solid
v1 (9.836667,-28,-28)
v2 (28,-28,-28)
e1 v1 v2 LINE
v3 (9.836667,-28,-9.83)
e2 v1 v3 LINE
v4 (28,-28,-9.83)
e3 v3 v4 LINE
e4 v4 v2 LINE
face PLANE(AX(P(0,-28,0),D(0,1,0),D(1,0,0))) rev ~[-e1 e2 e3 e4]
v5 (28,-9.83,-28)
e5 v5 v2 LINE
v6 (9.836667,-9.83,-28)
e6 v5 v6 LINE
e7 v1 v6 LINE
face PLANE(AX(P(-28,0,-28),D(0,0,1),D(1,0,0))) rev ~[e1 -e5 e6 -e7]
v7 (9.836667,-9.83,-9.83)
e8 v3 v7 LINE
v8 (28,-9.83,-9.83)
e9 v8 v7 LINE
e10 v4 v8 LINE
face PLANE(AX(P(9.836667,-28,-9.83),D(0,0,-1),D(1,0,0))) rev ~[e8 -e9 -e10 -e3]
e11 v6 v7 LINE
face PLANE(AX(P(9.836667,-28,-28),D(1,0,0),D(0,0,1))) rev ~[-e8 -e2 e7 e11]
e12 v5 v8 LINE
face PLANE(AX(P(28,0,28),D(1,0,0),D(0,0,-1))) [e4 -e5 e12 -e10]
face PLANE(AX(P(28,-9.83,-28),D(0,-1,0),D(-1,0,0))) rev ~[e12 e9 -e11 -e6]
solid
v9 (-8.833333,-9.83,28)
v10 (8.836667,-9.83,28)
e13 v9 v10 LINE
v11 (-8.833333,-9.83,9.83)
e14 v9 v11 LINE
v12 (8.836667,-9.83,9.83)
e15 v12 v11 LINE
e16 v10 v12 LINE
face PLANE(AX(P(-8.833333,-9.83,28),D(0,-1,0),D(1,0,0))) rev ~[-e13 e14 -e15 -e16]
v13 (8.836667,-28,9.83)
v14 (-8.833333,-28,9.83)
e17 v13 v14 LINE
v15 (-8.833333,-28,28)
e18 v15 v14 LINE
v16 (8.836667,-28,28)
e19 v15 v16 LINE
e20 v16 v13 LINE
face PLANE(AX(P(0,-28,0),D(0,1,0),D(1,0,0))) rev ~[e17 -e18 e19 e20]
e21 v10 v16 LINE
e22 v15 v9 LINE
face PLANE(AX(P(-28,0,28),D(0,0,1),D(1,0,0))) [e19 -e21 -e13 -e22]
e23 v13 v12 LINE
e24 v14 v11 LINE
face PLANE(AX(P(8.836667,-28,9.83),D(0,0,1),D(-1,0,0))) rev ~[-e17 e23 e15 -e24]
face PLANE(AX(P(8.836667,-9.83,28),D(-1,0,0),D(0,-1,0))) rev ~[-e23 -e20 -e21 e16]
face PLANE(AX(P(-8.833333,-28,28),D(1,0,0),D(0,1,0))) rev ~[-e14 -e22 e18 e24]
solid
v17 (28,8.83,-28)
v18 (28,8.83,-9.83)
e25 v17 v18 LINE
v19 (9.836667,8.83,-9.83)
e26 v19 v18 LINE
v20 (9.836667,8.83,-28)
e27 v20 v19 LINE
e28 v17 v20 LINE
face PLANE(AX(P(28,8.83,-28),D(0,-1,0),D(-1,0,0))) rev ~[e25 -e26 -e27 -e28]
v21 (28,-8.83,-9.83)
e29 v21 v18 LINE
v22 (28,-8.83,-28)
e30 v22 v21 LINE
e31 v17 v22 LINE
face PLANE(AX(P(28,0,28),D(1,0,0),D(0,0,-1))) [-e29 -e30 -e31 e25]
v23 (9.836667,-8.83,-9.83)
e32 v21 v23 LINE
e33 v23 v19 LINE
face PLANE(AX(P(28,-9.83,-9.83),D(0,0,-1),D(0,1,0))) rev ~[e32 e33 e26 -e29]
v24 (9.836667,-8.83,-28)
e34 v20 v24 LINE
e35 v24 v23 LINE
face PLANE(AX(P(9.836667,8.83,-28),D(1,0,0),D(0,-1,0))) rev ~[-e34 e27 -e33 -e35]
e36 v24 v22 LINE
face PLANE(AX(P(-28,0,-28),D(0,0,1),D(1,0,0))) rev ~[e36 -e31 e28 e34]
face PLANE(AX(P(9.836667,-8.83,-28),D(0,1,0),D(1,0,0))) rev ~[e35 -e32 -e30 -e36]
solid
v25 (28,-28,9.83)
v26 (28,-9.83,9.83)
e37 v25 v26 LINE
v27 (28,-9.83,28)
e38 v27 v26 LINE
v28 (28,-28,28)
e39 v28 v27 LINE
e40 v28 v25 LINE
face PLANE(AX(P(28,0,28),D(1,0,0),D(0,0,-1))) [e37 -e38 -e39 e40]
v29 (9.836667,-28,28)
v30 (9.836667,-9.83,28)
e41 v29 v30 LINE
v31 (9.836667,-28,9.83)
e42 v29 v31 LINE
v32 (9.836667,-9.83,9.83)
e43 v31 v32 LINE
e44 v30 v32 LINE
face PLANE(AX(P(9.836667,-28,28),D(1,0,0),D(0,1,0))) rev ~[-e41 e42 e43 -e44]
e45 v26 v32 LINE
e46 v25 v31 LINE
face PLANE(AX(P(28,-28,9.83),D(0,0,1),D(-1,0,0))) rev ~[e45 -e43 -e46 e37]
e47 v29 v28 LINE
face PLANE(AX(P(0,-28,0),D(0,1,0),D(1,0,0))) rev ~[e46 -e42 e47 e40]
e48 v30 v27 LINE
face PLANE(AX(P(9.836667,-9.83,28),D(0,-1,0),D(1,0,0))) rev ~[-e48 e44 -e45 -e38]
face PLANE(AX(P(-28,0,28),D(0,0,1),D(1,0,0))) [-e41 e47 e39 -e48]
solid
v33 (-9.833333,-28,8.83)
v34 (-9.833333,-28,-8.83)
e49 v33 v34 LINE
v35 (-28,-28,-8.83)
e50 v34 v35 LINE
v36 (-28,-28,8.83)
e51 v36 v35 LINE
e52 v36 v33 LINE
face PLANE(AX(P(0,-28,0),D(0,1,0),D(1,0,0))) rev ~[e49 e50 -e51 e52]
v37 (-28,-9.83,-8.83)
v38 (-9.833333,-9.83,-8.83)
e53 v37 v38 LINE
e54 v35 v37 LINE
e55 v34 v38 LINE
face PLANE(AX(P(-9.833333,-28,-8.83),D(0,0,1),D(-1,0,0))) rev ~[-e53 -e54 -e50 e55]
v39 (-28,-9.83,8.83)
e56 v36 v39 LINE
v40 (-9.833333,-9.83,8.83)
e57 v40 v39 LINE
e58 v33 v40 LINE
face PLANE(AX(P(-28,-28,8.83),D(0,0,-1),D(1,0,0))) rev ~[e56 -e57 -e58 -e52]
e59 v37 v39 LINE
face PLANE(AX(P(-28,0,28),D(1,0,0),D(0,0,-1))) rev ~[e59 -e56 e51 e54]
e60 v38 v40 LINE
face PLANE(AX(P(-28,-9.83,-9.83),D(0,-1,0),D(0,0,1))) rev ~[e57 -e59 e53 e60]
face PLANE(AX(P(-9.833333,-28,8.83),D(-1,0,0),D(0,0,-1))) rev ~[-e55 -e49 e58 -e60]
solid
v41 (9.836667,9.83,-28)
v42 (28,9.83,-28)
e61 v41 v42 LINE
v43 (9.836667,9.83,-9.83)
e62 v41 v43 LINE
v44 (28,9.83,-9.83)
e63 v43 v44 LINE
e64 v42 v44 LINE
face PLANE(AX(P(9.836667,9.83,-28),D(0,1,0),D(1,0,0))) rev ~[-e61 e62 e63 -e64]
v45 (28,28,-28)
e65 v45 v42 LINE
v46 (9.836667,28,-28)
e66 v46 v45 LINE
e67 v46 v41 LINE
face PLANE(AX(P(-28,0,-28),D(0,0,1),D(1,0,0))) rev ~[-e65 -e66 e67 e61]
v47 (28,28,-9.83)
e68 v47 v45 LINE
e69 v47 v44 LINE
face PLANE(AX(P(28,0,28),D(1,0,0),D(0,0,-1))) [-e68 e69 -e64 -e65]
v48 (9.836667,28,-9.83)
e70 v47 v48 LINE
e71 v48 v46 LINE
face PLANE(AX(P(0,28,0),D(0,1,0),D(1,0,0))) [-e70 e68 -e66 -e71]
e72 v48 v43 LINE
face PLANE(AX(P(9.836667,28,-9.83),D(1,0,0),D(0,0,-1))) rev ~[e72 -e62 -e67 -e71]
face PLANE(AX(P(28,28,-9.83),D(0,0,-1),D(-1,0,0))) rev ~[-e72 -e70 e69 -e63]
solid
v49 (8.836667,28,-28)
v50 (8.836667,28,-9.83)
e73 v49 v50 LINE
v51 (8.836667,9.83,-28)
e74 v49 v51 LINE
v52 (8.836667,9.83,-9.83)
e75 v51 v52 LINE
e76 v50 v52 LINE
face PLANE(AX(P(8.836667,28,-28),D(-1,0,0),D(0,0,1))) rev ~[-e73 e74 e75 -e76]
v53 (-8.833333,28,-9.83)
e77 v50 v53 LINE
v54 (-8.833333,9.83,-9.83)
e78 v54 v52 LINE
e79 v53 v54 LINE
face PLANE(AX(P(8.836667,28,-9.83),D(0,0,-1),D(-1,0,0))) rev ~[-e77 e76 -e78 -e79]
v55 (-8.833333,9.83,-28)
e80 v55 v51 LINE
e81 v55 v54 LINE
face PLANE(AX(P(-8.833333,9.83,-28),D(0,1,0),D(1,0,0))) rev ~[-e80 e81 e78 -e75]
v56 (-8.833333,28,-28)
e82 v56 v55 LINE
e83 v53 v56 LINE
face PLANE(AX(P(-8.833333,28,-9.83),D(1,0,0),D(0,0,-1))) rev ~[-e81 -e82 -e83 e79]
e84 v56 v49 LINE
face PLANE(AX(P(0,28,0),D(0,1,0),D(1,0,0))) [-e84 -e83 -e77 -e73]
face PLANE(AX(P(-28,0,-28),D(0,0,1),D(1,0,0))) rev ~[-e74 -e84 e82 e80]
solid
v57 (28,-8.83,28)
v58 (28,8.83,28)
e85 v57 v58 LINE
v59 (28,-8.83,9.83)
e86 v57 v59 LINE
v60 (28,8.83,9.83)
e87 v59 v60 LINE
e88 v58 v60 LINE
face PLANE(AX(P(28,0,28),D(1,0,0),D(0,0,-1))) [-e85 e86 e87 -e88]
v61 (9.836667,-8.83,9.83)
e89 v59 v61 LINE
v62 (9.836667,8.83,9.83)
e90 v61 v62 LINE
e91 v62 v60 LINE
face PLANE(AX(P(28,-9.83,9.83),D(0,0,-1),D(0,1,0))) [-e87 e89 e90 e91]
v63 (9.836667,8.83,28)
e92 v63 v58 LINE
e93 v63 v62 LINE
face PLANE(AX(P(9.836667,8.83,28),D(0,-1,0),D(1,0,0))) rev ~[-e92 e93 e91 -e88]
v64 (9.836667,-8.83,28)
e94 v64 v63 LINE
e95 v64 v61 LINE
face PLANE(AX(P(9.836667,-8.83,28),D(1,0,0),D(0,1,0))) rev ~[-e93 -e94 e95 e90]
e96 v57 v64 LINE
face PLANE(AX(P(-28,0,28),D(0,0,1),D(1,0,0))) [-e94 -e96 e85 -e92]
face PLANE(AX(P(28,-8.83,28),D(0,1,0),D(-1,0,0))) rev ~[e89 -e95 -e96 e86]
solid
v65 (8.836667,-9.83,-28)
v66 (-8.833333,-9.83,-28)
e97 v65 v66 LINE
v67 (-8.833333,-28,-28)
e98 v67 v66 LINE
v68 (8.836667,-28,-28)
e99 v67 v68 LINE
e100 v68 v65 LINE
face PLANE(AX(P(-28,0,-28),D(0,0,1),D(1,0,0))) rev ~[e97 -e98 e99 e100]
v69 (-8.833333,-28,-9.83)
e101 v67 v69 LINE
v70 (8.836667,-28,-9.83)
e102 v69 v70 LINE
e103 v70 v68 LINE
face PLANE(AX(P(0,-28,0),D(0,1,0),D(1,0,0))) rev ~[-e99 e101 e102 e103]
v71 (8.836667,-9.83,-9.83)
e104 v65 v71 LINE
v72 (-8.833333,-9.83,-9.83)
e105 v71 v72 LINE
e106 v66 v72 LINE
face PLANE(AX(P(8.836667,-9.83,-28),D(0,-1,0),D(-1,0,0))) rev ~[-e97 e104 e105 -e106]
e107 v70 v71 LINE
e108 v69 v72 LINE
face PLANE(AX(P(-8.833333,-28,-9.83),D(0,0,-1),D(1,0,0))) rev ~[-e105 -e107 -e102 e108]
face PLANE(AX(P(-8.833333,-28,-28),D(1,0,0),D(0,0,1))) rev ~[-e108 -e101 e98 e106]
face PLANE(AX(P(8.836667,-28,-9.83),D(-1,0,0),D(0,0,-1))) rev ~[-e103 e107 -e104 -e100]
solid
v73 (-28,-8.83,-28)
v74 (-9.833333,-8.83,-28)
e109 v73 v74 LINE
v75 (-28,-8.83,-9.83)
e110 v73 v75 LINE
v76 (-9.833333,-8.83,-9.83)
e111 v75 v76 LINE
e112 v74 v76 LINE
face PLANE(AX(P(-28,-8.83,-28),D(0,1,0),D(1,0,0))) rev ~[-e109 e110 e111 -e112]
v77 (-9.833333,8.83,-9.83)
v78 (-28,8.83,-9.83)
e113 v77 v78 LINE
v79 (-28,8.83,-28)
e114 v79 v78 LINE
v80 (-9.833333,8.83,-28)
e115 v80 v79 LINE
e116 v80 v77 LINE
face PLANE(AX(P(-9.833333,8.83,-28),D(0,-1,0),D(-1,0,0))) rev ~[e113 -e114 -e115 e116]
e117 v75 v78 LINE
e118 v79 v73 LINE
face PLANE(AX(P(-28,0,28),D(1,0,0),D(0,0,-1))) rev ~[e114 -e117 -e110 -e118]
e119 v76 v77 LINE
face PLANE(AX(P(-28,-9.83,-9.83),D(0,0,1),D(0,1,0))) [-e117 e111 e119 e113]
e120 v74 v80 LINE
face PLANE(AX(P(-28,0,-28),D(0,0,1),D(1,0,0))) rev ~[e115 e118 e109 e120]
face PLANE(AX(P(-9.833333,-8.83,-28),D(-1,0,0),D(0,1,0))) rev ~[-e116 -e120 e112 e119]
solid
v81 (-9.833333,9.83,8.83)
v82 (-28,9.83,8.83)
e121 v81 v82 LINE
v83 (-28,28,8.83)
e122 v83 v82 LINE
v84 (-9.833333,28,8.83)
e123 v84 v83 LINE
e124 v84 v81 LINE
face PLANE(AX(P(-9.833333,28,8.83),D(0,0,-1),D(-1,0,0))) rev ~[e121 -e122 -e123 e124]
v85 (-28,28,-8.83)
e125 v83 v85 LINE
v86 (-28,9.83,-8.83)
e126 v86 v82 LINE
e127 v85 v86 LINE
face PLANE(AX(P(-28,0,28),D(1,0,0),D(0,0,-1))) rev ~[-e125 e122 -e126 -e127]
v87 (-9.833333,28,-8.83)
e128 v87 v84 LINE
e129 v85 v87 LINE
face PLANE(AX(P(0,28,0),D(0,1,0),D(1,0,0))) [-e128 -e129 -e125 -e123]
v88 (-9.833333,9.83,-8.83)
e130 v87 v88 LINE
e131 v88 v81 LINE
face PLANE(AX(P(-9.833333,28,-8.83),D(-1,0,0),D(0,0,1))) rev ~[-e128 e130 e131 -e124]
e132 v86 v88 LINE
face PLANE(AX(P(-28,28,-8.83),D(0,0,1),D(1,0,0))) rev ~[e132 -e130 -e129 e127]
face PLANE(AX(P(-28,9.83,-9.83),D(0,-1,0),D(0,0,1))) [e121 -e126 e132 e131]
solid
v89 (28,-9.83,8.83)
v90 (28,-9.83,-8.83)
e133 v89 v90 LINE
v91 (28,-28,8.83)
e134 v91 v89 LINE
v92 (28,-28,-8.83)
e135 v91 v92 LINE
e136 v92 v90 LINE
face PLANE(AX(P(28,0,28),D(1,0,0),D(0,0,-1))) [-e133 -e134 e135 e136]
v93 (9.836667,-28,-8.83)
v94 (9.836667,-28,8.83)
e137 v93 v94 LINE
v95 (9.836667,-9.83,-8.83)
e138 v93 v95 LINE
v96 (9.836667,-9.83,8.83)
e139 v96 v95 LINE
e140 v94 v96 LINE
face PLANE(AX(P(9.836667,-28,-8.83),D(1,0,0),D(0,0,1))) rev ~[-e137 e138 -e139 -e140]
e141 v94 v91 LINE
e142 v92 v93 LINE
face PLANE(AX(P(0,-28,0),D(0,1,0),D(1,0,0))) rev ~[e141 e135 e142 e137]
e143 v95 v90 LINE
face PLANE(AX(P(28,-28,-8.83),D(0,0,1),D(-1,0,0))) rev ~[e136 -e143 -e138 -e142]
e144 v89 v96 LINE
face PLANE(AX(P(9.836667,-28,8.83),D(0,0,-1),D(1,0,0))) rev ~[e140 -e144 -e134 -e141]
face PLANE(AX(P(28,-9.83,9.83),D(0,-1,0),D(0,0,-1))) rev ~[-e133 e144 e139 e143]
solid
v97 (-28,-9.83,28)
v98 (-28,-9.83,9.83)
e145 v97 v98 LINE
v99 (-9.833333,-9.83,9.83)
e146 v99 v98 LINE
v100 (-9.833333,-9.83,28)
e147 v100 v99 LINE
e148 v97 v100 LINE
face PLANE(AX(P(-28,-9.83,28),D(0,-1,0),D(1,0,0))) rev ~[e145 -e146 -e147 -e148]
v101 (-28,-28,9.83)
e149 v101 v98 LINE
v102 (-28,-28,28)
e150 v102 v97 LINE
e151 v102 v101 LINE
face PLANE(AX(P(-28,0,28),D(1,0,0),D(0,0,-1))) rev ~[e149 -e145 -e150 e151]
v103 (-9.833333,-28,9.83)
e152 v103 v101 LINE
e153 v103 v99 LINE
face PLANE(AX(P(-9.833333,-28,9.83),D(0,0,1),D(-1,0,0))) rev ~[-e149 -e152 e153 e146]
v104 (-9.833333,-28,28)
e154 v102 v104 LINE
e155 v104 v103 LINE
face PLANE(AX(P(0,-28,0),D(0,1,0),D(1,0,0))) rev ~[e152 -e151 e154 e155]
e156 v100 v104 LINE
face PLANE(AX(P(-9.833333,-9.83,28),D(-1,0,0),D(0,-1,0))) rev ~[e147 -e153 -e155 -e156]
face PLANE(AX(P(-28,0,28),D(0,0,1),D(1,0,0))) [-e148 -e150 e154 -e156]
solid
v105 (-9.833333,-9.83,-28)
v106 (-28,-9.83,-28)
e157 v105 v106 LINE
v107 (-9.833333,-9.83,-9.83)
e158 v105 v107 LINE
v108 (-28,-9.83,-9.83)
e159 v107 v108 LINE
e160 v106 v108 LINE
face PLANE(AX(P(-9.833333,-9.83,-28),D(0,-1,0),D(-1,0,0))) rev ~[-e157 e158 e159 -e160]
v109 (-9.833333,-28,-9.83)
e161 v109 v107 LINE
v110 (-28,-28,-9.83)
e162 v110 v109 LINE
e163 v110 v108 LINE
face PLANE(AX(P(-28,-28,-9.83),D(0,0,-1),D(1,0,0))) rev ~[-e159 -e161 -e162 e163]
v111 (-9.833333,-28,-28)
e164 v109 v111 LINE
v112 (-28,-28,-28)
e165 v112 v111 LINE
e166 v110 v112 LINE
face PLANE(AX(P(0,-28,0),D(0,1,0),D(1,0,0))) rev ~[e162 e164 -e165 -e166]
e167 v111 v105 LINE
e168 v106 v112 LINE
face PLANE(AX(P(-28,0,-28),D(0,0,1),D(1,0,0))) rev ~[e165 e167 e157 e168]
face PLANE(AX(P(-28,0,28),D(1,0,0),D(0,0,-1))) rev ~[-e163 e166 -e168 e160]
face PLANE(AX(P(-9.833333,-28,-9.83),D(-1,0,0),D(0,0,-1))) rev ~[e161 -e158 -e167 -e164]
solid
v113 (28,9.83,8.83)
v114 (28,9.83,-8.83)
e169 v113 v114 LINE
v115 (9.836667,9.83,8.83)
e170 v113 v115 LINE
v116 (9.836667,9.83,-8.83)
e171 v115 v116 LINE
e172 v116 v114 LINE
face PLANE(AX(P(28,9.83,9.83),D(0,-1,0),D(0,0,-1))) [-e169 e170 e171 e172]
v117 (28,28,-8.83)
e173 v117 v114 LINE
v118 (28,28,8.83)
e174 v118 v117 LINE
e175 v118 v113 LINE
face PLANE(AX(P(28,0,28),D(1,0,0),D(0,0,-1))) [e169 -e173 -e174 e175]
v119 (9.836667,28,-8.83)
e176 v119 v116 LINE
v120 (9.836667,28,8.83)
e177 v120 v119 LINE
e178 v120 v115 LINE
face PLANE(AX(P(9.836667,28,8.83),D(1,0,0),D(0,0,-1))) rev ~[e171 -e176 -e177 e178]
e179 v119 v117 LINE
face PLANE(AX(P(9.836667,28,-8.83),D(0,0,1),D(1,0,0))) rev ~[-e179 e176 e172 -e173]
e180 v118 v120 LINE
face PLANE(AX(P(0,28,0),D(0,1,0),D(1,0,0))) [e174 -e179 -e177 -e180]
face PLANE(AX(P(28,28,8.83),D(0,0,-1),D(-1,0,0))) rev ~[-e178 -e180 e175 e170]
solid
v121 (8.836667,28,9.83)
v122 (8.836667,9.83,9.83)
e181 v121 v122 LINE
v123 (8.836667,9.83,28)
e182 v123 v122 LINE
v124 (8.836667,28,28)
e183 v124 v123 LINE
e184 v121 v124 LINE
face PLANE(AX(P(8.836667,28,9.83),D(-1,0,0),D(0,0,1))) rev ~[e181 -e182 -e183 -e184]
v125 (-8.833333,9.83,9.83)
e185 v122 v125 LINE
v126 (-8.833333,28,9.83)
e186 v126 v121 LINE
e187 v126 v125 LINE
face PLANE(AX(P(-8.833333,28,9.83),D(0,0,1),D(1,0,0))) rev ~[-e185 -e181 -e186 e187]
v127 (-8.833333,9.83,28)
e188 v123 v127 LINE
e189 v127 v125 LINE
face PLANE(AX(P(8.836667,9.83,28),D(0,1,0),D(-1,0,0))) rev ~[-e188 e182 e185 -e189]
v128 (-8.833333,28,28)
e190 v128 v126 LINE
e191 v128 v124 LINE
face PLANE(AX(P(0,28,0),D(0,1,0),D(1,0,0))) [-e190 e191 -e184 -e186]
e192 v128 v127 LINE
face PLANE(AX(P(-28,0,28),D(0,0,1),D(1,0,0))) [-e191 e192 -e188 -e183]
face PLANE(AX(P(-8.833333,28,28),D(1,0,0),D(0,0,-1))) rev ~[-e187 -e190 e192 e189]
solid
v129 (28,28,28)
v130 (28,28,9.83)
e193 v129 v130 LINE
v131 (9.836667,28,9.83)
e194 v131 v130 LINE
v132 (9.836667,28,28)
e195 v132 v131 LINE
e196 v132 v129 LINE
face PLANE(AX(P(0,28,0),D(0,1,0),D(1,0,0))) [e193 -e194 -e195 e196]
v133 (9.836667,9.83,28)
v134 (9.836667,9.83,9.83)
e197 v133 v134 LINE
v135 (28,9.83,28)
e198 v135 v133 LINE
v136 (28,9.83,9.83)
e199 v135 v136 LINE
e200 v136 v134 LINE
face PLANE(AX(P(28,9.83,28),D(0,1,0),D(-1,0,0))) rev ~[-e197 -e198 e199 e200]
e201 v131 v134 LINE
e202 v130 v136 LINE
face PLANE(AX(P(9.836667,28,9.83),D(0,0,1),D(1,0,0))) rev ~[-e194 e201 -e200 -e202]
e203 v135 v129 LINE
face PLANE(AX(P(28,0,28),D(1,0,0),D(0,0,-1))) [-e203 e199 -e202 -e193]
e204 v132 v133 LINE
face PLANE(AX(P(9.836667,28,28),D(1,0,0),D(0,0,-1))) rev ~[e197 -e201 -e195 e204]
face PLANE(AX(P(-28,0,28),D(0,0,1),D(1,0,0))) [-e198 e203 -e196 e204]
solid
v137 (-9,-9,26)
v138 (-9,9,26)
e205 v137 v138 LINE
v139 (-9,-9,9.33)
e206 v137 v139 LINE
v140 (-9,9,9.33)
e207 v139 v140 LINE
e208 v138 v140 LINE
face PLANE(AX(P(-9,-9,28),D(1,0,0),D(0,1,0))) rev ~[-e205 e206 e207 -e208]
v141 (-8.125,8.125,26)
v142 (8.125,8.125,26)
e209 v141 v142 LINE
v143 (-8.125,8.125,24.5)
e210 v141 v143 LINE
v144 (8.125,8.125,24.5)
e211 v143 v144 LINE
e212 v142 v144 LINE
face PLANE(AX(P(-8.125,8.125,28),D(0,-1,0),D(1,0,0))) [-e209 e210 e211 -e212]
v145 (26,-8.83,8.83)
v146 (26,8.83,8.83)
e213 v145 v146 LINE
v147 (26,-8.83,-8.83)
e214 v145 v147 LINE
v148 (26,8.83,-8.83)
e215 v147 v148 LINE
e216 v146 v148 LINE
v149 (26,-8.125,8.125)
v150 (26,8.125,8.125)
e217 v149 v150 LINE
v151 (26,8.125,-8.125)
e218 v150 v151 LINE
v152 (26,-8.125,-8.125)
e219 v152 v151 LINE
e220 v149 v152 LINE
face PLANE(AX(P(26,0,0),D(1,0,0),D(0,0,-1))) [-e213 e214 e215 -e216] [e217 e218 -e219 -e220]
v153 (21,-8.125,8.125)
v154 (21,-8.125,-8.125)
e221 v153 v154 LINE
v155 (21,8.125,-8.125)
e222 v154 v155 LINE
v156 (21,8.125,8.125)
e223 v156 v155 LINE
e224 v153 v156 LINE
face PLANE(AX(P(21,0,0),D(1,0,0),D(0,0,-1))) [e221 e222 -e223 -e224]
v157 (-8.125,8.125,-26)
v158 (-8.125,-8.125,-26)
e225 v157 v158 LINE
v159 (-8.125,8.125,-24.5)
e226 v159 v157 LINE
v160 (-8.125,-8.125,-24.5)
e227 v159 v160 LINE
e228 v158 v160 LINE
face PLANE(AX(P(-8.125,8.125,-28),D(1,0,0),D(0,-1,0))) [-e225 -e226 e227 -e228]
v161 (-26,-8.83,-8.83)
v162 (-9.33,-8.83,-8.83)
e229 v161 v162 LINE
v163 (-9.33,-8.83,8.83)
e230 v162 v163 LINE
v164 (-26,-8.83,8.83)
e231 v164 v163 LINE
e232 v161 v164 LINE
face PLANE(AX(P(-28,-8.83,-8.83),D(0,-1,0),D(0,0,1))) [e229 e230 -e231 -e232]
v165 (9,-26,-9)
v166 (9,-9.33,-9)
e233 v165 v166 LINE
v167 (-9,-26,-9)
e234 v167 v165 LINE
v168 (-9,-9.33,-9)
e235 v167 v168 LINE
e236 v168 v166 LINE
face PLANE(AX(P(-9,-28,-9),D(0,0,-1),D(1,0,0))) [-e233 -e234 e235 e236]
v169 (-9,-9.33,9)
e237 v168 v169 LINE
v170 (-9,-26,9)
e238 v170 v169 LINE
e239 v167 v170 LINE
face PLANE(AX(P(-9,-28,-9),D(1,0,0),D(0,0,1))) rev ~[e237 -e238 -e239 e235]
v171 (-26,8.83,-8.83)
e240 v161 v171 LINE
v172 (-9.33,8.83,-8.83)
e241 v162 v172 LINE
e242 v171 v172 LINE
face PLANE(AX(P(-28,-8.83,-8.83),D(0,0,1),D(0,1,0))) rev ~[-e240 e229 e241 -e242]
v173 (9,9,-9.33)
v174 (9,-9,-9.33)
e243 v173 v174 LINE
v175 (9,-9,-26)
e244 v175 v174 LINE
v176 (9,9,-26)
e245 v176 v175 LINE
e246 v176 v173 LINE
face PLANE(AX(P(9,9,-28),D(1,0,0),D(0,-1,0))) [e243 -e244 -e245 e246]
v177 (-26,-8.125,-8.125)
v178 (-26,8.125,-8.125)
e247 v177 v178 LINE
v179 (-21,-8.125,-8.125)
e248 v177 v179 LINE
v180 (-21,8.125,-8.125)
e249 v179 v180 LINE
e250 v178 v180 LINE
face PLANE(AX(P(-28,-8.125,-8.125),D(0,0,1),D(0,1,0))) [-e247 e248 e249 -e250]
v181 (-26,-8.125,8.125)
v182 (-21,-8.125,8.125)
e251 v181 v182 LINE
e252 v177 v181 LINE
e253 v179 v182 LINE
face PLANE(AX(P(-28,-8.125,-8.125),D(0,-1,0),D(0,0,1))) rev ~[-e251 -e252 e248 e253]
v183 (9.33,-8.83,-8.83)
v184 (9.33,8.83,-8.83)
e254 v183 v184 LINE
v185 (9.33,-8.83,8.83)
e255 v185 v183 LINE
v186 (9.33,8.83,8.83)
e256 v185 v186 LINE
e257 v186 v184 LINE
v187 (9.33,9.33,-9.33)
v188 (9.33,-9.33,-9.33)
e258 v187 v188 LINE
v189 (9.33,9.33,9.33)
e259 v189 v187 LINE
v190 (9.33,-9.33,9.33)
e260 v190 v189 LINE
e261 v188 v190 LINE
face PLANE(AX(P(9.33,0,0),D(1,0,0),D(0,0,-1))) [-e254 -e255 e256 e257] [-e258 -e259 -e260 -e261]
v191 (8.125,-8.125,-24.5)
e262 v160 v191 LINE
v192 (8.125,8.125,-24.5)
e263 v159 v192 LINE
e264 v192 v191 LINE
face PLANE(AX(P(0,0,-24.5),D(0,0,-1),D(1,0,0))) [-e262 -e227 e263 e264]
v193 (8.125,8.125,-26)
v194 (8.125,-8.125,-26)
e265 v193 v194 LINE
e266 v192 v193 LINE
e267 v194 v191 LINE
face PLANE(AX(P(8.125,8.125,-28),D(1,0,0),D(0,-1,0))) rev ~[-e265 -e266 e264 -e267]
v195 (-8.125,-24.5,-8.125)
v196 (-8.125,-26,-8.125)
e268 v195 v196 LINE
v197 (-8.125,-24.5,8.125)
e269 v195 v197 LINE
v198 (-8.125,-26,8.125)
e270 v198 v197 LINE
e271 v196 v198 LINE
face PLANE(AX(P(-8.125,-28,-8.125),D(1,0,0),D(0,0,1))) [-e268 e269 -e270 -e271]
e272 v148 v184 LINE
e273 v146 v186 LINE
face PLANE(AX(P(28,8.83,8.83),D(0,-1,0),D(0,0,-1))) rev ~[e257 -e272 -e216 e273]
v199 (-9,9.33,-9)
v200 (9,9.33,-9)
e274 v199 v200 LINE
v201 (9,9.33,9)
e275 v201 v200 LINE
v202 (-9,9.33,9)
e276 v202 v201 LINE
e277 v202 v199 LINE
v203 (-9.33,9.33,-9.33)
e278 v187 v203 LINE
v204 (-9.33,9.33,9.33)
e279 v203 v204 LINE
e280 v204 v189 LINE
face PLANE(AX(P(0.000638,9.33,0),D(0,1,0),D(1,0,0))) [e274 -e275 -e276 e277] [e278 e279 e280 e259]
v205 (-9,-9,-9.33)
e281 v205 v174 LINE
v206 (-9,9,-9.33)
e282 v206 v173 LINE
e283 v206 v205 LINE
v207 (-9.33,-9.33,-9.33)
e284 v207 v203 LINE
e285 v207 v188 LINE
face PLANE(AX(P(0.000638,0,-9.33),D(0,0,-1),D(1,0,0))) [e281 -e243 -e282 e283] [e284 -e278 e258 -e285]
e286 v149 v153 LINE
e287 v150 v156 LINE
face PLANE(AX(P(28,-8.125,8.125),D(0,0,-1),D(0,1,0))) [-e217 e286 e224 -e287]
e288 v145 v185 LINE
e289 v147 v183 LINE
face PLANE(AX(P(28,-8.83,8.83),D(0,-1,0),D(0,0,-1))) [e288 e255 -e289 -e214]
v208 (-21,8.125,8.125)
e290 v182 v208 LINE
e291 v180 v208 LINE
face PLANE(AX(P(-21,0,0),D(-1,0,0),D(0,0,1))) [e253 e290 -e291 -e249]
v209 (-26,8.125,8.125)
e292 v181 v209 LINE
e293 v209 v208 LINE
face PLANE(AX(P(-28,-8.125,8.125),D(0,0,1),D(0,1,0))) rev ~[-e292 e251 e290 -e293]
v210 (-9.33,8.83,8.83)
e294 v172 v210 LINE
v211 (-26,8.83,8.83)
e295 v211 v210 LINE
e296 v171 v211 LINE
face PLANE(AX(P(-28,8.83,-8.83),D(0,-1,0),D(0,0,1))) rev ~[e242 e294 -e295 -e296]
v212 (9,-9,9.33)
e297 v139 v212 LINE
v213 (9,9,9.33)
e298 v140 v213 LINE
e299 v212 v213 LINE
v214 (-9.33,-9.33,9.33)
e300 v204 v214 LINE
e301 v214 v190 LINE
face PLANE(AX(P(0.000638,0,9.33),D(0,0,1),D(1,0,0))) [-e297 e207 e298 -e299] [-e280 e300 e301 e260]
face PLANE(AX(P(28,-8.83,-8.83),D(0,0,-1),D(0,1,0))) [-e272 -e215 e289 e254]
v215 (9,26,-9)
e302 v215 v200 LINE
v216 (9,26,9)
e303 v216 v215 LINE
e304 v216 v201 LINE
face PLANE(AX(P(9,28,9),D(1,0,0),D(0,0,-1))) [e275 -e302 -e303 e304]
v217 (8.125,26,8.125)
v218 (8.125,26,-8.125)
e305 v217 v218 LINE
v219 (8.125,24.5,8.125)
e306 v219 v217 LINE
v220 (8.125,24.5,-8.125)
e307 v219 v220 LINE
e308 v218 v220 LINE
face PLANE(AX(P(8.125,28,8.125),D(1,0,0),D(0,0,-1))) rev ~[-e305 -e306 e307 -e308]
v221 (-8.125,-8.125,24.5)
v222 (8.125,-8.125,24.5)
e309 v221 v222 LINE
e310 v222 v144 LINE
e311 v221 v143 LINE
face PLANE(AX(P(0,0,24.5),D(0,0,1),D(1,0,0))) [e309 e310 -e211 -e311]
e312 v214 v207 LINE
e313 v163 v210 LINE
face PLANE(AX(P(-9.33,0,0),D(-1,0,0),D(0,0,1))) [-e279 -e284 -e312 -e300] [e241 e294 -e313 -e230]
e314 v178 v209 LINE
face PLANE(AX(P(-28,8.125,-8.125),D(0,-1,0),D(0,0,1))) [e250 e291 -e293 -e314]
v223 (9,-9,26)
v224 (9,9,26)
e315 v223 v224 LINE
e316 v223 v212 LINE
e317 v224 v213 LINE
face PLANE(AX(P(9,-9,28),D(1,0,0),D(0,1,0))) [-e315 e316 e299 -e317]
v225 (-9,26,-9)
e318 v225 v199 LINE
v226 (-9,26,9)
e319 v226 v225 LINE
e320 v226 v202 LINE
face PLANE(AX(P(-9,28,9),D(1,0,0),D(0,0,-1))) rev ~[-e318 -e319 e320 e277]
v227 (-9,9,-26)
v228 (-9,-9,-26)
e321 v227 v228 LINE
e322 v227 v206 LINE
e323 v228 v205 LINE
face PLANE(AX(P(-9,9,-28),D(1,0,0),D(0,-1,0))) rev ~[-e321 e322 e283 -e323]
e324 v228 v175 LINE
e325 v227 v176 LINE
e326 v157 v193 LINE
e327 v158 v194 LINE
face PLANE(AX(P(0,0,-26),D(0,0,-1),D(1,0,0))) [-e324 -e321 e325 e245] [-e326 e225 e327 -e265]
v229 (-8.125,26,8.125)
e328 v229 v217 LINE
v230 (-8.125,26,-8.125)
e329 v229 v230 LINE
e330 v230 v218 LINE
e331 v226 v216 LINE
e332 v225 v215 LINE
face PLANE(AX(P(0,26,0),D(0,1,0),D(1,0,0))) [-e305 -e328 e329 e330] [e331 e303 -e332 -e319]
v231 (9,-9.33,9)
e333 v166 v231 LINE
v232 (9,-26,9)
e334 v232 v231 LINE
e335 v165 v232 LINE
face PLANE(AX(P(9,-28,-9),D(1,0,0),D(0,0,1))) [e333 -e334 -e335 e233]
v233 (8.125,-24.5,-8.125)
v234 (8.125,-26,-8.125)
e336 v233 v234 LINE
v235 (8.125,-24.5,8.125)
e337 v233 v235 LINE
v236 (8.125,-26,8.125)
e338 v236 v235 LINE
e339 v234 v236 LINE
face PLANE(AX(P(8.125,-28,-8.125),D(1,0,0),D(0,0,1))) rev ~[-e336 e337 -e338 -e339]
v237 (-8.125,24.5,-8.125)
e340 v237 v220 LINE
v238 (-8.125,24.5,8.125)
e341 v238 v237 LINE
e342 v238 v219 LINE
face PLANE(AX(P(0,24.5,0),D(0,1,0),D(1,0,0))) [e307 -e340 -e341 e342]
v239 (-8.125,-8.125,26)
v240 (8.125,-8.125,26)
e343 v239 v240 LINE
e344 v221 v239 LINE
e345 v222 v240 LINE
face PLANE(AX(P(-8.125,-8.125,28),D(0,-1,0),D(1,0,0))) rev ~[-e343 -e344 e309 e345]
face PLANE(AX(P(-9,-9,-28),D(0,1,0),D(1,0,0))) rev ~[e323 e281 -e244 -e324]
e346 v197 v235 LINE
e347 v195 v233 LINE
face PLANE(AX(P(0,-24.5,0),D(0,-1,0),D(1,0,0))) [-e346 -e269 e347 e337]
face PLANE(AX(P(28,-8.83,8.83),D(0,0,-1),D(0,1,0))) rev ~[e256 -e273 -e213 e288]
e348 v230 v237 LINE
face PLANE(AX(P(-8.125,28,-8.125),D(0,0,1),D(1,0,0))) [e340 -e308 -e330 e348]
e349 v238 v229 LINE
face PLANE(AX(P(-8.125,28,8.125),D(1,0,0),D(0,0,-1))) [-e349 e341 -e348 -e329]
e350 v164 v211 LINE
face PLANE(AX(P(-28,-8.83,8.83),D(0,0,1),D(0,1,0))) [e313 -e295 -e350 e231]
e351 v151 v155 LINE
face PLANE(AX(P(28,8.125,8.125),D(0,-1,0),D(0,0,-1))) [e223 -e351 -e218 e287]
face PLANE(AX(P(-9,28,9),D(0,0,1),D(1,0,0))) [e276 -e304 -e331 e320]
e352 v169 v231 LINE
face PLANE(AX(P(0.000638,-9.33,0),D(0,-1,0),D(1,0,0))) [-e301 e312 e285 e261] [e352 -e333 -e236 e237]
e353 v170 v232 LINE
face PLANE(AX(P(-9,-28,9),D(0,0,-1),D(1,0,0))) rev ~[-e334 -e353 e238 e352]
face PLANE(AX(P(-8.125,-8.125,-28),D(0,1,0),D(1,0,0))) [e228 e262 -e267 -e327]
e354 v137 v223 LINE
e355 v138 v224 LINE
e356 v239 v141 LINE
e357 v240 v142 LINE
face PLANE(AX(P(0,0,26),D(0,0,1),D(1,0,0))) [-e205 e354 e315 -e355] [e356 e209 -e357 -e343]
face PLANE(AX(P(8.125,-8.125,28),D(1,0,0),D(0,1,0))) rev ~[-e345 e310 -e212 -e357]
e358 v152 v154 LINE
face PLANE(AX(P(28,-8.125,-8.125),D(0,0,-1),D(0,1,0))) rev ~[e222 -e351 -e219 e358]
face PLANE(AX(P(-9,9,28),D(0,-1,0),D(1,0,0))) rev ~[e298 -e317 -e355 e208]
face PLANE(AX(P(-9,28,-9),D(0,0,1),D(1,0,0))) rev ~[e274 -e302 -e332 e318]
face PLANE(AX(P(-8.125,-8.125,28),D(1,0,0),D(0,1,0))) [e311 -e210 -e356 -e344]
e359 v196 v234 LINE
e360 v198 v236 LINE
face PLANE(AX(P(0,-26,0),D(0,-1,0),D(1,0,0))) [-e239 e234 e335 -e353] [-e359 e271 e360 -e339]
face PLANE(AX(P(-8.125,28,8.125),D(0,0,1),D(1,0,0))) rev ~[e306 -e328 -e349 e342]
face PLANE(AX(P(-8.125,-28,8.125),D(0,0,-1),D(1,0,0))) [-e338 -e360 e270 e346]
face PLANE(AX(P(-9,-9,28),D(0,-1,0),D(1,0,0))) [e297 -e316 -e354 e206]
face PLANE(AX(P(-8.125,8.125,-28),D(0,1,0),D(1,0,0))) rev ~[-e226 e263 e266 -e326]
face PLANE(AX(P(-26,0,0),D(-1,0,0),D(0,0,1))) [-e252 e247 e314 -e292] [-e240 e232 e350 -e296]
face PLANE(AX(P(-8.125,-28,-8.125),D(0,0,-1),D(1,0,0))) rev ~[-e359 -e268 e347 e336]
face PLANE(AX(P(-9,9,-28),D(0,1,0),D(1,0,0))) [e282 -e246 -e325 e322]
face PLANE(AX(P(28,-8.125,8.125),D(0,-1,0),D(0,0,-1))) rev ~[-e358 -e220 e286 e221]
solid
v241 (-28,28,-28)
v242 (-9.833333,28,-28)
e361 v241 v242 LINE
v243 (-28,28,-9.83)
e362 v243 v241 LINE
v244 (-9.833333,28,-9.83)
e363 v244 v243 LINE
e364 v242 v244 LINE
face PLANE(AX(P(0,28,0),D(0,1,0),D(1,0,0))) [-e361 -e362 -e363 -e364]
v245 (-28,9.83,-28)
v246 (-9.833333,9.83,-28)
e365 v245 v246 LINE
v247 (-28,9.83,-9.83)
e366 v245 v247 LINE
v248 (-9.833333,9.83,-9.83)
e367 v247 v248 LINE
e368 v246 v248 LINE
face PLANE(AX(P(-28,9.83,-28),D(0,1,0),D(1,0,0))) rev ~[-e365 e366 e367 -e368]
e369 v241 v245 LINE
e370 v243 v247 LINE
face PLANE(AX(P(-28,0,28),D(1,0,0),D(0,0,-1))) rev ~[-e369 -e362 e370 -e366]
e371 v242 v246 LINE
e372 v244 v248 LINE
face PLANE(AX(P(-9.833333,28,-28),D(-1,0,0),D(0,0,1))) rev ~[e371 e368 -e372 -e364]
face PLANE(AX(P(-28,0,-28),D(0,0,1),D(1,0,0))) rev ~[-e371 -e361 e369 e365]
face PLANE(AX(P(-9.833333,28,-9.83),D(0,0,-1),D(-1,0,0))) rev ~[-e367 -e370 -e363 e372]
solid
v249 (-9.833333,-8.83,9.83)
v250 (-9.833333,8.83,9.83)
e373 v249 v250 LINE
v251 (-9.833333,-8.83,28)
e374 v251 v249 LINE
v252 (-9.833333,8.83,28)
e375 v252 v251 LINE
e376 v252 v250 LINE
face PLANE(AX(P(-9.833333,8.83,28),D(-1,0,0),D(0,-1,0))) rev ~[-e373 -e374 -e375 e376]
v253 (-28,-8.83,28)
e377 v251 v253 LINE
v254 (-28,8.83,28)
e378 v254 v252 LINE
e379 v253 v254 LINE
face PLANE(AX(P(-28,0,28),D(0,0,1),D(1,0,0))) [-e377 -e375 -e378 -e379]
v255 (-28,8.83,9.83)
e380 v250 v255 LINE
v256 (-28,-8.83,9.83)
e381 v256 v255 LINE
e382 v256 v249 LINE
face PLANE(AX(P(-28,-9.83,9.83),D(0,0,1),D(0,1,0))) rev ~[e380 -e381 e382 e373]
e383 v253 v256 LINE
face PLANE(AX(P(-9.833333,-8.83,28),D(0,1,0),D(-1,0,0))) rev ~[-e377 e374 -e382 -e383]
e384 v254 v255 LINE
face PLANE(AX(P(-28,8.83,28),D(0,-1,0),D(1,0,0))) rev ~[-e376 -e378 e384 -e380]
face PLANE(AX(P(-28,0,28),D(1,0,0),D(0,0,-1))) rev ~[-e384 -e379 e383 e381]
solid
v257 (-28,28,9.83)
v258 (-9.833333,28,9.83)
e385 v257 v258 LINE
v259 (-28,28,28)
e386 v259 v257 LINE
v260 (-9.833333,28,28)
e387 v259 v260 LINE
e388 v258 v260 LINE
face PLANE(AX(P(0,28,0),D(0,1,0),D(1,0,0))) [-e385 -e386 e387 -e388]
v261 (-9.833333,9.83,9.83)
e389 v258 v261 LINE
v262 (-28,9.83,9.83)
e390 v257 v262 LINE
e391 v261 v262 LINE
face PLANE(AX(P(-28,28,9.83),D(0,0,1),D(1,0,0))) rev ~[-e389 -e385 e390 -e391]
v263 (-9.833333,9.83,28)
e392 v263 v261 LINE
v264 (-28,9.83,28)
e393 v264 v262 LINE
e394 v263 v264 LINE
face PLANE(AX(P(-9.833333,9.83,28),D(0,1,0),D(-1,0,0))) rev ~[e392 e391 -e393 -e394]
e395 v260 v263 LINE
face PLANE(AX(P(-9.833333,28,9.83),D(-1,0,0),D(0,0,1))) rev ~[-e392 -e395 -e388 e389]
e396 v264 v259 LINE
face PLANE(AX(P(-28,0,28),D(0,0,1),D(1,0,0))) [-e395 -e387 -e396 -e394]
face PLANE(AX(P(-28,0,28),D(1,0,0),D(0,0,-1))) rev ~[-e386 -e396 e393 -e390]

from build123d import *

# Parameters (mm, degrees)
SKETCH1_W           = 56
SKETCH1_H           = 56
BOSS_EXTRUDE1_DEPTH = 28
SKETCH2_W           = 16.25
SKETCH2_H           = 16.25
CUT_EXTRUDE1_DEPTH  = 3.5
SKETCH2_3_W         = 18
SKETCH2_3_H         = 18
SKETCH2_3_W_2       = 16.25
SKETCH2_3_H_2       = 16.25
CUT_EXTRUDE6_DEPTH  = 2
SKETCH6_W           = 18
SKETCH6_H           = 18
CUT_EXTRUDE2_DEPTH  = 18.67
CIRPATTERN6_COUNT   = 4
SKETCH12_W          = 18
SKETCH12_H          = 18
SKETCH12_W_2        = 16.25
SKETCH12_H_2        = 16.25
CUT_EXTRUDE7_DEPTH  = 2
SKETCH12_3_W        = 16.25
SKETCH12_3_H        = 16.25
CUT_EXTRUDE8_DEPTH  = 7
SKETCH13_W          = 19.66
SKETCH13_H          = 19.66
SKETCH13_W_2        = 17.66
SKETCH13_H_2        = 17.66
CUT_EXTRUDE9_DEPTH  = 18.67
SKETCH14_W          = 18
SKETCH14_H          = 18
SKETCH14_W_2        = 16.25
SKETCH14_H_2        = 16.25
CUT_EXTRUDE10_DEPTH = 2
SKETCH14_2_W        = 16.25
SKETCH14_2_H        = 16.25
CUT_EXTRUDE11_DEPTH = 7
SKETCH15_W          = 19.66
SKETCH15_H          = 19.66
SKETCH15_W_2        = 17.66
SKETCH15_H_2        = 17.66
CUT_EXTRUDE12_DEPTH = 18.67


with BuildPart() as part:
    # Sketch1 → Boss-Extrude1 (new, symmetric)
    with BuildSketch(Plane(origin=(0, 0, 0), x_dir=(1, 0, 0), z_dir=(0, 1, 0))):
        Rectangle(SKETCH1_W, SKETCH1_H)
    extrude(amount=BOSS_EXTRUDE1_DEPTH, both=True)

    # Sketch2 → Cut-Extrude1 (cut, symmetric)
    with BuildSketch(Plane(origin=(0, 28, 0), x_dir=(1, 0, 0), z_dir=(0, 1, 0))):
        Rectangle(SKETCH2_W, SKETCH2_H)
    cut_extrude1 = extrude(amount=CUT_EXTRUDE1_DEPTH, both=True, mode=Mode.SUBTRACT)

    # Sketch2<3> → Cut-Extrude6 (cut)
    with BuildSketch(Plane(origin=(0, 28, 0), x_dir=(1, 0, 0), z_dir=(0, 1, 0))):
        Rectangle(SKETCH2_3_W, SKETCH2_3_H)
        Rectangle(SKETCH2_3_W_2, SKETCH2_3_H_2, mode=Mode.SUBTRACT)
    cut_extrude6 = extrude(amount=-CUT_EXTRUDE6_DEPTH, mode=Mode.SUBTRACT)

    # Sketch6 → Cut-Extrude2 (cut)
    with BuildSketch(Plane(origin=(0, 28, 0), x_dir=(1, 0, 0), z_dir=(0, 1, 0))):
        Polygon((-8.833333333, 28), (-9.833333333, 28), (-9.833333333, 9.83), (-28, 9.83), (-28, 8.83), (-9.833333333, 8.83), (-9.833333333, -8.83), (-28, -8.83), (-28, -9.83), (-9.833333333, -9.83), (-9.833333333, -28), (-8.833333333, -28), (-8.833333333, -9.83), (8.836666667, -9.83), (8.836666667, -28), (9.836666667, -28), (9.836666667, -9.83), (28, -9.83), (28, -8.83), (9.836666667, -8.83), (9.836666667, 8.83), (28, 8.83), (28, 9.83), (9.836666667, 9.83), (9.836666667, 28), (8.836666667, 28), (8.836666667, 9.83), (-8.833333333, 9.83), align=None)
        Rectangle(SKETCH6_W, SKETCH6_H, mode=Mode.SUBTRACT)
    cut_extrude2 = extrude(amount=-CUT_EXTRUDE2_DEPTH, mode=Mode.SUBTRACT)

    # CirPattern6: Cut-Extrude1, Cut-Extrude6, Cut-Extrude2 ×4 about axis
    cirpattern6_axis = Axis((0, 0, 0), (1, 0, 0))
    add([cut_extrude1.rotate(cirpattern6_axis, i * 360 / CIRPATTERN6_COUNT) for i in range(1, CIRPATTERN6_COUNT)], mode=Mode.SUBTRACT)
    add([cut_extrude6.rotate(cirpattern6_axis, i * 360 / CIRPATTERN6_COUNT) for i in range(1, CIRPATTERN6_COUNT)], mode=Mode.SUBTRACT)
    add([cut_extrude2.rotate(cirpattern6_axis, i * 360 / CIRPATTERN6_COUNT) for i in range(1, CIRPATTERN6_COUNT)], mode=Mode.SUBTRACT)

    # Sketch12 → Cut-Extrude7 (cut)
    with BuildSketch(Plane.ZY.offset(28)):
        Rectangle(SKETCH12_W, SKETCH12_H)
        Rectangle(SKETCH12_W_2, SKETCH12_H_2, mode=Mode.SUBTRACT)
    extrude(amount=-CUT_EXTRUDE7_DEPTH, mode=Mode.SUBTRACT)

    # Sketch12<3> → Cut-Extrude8 (cut)
    with BuildSketch(Plane.ZY.offset(28)):
        Rectangle(SKETCH12_3_W, SKETCH12_3_H)
    extrude(amount=-CUT_EXTRUDE8_DEPTH, mode=Mode.SUBTRACT)

    # Sketch13 → Cut-Extrude9 (cut)
    with BuildSketch(Plane.ZY.offset(28)):
        Rectangle(SKETCH13_W, SKETCH13_H)
        Rectangle(SKETCH13_W_2, SKETCH13_H_2, mode=Mode.SUBTRACT)
    extrude(amount=-CUT_EXTRUDE9_DEPTH, mode=Mode.SUBTRACT)

    # Sketch14 → Cut-Extrude10 (cut)
    with BuildSketch(Plane(origin=(28, 0, 0), x_dir=(0, 0, -1), z_dir=(1, 0, 0))):
        Rectangle(SKETCH14_W, SKETCH14_H)
        Rectangle(SKETCH14_W_2, SKETCH14_H_2, mode=Mode.SUBTRACT)
    extrude(amount=-CUT_EXTRUDE10_DEPTH, mode=Mode.SUBTRACT)

    # Sketch14<2> → Cut-Extrude11 (cut)
    with BuildSketch(Plane(origin=(28, 0, 0), x_dir=(0, 0, -1), z_dir=(1, 0, 0))):
        Rectangle(SKETCH14_2_W, SKETCH14_2_H)
    extrude(amount=-CUT_EXTRUDE11_DEPTH, mode=Mode.SUBTRACT)

    # Sketch15 → Cut-Extrude12 (cut)
    with BuildSketch(Plane(origin=(28, 0, 0), x_dir=(0, 0, -1), z_dir=(1, 0, 0))):
        Rectangle(SKETCH15_W, SKETCH15_H)
        Rectangle(SKETCH15_W_2, SKETCH15_H_2, mode=Mode.SUBTRACT)
    extrude(amount=-CUT_EXTRUDE12_DEPTH, mode=Mode.SUBTRACT)


solid = part.part
